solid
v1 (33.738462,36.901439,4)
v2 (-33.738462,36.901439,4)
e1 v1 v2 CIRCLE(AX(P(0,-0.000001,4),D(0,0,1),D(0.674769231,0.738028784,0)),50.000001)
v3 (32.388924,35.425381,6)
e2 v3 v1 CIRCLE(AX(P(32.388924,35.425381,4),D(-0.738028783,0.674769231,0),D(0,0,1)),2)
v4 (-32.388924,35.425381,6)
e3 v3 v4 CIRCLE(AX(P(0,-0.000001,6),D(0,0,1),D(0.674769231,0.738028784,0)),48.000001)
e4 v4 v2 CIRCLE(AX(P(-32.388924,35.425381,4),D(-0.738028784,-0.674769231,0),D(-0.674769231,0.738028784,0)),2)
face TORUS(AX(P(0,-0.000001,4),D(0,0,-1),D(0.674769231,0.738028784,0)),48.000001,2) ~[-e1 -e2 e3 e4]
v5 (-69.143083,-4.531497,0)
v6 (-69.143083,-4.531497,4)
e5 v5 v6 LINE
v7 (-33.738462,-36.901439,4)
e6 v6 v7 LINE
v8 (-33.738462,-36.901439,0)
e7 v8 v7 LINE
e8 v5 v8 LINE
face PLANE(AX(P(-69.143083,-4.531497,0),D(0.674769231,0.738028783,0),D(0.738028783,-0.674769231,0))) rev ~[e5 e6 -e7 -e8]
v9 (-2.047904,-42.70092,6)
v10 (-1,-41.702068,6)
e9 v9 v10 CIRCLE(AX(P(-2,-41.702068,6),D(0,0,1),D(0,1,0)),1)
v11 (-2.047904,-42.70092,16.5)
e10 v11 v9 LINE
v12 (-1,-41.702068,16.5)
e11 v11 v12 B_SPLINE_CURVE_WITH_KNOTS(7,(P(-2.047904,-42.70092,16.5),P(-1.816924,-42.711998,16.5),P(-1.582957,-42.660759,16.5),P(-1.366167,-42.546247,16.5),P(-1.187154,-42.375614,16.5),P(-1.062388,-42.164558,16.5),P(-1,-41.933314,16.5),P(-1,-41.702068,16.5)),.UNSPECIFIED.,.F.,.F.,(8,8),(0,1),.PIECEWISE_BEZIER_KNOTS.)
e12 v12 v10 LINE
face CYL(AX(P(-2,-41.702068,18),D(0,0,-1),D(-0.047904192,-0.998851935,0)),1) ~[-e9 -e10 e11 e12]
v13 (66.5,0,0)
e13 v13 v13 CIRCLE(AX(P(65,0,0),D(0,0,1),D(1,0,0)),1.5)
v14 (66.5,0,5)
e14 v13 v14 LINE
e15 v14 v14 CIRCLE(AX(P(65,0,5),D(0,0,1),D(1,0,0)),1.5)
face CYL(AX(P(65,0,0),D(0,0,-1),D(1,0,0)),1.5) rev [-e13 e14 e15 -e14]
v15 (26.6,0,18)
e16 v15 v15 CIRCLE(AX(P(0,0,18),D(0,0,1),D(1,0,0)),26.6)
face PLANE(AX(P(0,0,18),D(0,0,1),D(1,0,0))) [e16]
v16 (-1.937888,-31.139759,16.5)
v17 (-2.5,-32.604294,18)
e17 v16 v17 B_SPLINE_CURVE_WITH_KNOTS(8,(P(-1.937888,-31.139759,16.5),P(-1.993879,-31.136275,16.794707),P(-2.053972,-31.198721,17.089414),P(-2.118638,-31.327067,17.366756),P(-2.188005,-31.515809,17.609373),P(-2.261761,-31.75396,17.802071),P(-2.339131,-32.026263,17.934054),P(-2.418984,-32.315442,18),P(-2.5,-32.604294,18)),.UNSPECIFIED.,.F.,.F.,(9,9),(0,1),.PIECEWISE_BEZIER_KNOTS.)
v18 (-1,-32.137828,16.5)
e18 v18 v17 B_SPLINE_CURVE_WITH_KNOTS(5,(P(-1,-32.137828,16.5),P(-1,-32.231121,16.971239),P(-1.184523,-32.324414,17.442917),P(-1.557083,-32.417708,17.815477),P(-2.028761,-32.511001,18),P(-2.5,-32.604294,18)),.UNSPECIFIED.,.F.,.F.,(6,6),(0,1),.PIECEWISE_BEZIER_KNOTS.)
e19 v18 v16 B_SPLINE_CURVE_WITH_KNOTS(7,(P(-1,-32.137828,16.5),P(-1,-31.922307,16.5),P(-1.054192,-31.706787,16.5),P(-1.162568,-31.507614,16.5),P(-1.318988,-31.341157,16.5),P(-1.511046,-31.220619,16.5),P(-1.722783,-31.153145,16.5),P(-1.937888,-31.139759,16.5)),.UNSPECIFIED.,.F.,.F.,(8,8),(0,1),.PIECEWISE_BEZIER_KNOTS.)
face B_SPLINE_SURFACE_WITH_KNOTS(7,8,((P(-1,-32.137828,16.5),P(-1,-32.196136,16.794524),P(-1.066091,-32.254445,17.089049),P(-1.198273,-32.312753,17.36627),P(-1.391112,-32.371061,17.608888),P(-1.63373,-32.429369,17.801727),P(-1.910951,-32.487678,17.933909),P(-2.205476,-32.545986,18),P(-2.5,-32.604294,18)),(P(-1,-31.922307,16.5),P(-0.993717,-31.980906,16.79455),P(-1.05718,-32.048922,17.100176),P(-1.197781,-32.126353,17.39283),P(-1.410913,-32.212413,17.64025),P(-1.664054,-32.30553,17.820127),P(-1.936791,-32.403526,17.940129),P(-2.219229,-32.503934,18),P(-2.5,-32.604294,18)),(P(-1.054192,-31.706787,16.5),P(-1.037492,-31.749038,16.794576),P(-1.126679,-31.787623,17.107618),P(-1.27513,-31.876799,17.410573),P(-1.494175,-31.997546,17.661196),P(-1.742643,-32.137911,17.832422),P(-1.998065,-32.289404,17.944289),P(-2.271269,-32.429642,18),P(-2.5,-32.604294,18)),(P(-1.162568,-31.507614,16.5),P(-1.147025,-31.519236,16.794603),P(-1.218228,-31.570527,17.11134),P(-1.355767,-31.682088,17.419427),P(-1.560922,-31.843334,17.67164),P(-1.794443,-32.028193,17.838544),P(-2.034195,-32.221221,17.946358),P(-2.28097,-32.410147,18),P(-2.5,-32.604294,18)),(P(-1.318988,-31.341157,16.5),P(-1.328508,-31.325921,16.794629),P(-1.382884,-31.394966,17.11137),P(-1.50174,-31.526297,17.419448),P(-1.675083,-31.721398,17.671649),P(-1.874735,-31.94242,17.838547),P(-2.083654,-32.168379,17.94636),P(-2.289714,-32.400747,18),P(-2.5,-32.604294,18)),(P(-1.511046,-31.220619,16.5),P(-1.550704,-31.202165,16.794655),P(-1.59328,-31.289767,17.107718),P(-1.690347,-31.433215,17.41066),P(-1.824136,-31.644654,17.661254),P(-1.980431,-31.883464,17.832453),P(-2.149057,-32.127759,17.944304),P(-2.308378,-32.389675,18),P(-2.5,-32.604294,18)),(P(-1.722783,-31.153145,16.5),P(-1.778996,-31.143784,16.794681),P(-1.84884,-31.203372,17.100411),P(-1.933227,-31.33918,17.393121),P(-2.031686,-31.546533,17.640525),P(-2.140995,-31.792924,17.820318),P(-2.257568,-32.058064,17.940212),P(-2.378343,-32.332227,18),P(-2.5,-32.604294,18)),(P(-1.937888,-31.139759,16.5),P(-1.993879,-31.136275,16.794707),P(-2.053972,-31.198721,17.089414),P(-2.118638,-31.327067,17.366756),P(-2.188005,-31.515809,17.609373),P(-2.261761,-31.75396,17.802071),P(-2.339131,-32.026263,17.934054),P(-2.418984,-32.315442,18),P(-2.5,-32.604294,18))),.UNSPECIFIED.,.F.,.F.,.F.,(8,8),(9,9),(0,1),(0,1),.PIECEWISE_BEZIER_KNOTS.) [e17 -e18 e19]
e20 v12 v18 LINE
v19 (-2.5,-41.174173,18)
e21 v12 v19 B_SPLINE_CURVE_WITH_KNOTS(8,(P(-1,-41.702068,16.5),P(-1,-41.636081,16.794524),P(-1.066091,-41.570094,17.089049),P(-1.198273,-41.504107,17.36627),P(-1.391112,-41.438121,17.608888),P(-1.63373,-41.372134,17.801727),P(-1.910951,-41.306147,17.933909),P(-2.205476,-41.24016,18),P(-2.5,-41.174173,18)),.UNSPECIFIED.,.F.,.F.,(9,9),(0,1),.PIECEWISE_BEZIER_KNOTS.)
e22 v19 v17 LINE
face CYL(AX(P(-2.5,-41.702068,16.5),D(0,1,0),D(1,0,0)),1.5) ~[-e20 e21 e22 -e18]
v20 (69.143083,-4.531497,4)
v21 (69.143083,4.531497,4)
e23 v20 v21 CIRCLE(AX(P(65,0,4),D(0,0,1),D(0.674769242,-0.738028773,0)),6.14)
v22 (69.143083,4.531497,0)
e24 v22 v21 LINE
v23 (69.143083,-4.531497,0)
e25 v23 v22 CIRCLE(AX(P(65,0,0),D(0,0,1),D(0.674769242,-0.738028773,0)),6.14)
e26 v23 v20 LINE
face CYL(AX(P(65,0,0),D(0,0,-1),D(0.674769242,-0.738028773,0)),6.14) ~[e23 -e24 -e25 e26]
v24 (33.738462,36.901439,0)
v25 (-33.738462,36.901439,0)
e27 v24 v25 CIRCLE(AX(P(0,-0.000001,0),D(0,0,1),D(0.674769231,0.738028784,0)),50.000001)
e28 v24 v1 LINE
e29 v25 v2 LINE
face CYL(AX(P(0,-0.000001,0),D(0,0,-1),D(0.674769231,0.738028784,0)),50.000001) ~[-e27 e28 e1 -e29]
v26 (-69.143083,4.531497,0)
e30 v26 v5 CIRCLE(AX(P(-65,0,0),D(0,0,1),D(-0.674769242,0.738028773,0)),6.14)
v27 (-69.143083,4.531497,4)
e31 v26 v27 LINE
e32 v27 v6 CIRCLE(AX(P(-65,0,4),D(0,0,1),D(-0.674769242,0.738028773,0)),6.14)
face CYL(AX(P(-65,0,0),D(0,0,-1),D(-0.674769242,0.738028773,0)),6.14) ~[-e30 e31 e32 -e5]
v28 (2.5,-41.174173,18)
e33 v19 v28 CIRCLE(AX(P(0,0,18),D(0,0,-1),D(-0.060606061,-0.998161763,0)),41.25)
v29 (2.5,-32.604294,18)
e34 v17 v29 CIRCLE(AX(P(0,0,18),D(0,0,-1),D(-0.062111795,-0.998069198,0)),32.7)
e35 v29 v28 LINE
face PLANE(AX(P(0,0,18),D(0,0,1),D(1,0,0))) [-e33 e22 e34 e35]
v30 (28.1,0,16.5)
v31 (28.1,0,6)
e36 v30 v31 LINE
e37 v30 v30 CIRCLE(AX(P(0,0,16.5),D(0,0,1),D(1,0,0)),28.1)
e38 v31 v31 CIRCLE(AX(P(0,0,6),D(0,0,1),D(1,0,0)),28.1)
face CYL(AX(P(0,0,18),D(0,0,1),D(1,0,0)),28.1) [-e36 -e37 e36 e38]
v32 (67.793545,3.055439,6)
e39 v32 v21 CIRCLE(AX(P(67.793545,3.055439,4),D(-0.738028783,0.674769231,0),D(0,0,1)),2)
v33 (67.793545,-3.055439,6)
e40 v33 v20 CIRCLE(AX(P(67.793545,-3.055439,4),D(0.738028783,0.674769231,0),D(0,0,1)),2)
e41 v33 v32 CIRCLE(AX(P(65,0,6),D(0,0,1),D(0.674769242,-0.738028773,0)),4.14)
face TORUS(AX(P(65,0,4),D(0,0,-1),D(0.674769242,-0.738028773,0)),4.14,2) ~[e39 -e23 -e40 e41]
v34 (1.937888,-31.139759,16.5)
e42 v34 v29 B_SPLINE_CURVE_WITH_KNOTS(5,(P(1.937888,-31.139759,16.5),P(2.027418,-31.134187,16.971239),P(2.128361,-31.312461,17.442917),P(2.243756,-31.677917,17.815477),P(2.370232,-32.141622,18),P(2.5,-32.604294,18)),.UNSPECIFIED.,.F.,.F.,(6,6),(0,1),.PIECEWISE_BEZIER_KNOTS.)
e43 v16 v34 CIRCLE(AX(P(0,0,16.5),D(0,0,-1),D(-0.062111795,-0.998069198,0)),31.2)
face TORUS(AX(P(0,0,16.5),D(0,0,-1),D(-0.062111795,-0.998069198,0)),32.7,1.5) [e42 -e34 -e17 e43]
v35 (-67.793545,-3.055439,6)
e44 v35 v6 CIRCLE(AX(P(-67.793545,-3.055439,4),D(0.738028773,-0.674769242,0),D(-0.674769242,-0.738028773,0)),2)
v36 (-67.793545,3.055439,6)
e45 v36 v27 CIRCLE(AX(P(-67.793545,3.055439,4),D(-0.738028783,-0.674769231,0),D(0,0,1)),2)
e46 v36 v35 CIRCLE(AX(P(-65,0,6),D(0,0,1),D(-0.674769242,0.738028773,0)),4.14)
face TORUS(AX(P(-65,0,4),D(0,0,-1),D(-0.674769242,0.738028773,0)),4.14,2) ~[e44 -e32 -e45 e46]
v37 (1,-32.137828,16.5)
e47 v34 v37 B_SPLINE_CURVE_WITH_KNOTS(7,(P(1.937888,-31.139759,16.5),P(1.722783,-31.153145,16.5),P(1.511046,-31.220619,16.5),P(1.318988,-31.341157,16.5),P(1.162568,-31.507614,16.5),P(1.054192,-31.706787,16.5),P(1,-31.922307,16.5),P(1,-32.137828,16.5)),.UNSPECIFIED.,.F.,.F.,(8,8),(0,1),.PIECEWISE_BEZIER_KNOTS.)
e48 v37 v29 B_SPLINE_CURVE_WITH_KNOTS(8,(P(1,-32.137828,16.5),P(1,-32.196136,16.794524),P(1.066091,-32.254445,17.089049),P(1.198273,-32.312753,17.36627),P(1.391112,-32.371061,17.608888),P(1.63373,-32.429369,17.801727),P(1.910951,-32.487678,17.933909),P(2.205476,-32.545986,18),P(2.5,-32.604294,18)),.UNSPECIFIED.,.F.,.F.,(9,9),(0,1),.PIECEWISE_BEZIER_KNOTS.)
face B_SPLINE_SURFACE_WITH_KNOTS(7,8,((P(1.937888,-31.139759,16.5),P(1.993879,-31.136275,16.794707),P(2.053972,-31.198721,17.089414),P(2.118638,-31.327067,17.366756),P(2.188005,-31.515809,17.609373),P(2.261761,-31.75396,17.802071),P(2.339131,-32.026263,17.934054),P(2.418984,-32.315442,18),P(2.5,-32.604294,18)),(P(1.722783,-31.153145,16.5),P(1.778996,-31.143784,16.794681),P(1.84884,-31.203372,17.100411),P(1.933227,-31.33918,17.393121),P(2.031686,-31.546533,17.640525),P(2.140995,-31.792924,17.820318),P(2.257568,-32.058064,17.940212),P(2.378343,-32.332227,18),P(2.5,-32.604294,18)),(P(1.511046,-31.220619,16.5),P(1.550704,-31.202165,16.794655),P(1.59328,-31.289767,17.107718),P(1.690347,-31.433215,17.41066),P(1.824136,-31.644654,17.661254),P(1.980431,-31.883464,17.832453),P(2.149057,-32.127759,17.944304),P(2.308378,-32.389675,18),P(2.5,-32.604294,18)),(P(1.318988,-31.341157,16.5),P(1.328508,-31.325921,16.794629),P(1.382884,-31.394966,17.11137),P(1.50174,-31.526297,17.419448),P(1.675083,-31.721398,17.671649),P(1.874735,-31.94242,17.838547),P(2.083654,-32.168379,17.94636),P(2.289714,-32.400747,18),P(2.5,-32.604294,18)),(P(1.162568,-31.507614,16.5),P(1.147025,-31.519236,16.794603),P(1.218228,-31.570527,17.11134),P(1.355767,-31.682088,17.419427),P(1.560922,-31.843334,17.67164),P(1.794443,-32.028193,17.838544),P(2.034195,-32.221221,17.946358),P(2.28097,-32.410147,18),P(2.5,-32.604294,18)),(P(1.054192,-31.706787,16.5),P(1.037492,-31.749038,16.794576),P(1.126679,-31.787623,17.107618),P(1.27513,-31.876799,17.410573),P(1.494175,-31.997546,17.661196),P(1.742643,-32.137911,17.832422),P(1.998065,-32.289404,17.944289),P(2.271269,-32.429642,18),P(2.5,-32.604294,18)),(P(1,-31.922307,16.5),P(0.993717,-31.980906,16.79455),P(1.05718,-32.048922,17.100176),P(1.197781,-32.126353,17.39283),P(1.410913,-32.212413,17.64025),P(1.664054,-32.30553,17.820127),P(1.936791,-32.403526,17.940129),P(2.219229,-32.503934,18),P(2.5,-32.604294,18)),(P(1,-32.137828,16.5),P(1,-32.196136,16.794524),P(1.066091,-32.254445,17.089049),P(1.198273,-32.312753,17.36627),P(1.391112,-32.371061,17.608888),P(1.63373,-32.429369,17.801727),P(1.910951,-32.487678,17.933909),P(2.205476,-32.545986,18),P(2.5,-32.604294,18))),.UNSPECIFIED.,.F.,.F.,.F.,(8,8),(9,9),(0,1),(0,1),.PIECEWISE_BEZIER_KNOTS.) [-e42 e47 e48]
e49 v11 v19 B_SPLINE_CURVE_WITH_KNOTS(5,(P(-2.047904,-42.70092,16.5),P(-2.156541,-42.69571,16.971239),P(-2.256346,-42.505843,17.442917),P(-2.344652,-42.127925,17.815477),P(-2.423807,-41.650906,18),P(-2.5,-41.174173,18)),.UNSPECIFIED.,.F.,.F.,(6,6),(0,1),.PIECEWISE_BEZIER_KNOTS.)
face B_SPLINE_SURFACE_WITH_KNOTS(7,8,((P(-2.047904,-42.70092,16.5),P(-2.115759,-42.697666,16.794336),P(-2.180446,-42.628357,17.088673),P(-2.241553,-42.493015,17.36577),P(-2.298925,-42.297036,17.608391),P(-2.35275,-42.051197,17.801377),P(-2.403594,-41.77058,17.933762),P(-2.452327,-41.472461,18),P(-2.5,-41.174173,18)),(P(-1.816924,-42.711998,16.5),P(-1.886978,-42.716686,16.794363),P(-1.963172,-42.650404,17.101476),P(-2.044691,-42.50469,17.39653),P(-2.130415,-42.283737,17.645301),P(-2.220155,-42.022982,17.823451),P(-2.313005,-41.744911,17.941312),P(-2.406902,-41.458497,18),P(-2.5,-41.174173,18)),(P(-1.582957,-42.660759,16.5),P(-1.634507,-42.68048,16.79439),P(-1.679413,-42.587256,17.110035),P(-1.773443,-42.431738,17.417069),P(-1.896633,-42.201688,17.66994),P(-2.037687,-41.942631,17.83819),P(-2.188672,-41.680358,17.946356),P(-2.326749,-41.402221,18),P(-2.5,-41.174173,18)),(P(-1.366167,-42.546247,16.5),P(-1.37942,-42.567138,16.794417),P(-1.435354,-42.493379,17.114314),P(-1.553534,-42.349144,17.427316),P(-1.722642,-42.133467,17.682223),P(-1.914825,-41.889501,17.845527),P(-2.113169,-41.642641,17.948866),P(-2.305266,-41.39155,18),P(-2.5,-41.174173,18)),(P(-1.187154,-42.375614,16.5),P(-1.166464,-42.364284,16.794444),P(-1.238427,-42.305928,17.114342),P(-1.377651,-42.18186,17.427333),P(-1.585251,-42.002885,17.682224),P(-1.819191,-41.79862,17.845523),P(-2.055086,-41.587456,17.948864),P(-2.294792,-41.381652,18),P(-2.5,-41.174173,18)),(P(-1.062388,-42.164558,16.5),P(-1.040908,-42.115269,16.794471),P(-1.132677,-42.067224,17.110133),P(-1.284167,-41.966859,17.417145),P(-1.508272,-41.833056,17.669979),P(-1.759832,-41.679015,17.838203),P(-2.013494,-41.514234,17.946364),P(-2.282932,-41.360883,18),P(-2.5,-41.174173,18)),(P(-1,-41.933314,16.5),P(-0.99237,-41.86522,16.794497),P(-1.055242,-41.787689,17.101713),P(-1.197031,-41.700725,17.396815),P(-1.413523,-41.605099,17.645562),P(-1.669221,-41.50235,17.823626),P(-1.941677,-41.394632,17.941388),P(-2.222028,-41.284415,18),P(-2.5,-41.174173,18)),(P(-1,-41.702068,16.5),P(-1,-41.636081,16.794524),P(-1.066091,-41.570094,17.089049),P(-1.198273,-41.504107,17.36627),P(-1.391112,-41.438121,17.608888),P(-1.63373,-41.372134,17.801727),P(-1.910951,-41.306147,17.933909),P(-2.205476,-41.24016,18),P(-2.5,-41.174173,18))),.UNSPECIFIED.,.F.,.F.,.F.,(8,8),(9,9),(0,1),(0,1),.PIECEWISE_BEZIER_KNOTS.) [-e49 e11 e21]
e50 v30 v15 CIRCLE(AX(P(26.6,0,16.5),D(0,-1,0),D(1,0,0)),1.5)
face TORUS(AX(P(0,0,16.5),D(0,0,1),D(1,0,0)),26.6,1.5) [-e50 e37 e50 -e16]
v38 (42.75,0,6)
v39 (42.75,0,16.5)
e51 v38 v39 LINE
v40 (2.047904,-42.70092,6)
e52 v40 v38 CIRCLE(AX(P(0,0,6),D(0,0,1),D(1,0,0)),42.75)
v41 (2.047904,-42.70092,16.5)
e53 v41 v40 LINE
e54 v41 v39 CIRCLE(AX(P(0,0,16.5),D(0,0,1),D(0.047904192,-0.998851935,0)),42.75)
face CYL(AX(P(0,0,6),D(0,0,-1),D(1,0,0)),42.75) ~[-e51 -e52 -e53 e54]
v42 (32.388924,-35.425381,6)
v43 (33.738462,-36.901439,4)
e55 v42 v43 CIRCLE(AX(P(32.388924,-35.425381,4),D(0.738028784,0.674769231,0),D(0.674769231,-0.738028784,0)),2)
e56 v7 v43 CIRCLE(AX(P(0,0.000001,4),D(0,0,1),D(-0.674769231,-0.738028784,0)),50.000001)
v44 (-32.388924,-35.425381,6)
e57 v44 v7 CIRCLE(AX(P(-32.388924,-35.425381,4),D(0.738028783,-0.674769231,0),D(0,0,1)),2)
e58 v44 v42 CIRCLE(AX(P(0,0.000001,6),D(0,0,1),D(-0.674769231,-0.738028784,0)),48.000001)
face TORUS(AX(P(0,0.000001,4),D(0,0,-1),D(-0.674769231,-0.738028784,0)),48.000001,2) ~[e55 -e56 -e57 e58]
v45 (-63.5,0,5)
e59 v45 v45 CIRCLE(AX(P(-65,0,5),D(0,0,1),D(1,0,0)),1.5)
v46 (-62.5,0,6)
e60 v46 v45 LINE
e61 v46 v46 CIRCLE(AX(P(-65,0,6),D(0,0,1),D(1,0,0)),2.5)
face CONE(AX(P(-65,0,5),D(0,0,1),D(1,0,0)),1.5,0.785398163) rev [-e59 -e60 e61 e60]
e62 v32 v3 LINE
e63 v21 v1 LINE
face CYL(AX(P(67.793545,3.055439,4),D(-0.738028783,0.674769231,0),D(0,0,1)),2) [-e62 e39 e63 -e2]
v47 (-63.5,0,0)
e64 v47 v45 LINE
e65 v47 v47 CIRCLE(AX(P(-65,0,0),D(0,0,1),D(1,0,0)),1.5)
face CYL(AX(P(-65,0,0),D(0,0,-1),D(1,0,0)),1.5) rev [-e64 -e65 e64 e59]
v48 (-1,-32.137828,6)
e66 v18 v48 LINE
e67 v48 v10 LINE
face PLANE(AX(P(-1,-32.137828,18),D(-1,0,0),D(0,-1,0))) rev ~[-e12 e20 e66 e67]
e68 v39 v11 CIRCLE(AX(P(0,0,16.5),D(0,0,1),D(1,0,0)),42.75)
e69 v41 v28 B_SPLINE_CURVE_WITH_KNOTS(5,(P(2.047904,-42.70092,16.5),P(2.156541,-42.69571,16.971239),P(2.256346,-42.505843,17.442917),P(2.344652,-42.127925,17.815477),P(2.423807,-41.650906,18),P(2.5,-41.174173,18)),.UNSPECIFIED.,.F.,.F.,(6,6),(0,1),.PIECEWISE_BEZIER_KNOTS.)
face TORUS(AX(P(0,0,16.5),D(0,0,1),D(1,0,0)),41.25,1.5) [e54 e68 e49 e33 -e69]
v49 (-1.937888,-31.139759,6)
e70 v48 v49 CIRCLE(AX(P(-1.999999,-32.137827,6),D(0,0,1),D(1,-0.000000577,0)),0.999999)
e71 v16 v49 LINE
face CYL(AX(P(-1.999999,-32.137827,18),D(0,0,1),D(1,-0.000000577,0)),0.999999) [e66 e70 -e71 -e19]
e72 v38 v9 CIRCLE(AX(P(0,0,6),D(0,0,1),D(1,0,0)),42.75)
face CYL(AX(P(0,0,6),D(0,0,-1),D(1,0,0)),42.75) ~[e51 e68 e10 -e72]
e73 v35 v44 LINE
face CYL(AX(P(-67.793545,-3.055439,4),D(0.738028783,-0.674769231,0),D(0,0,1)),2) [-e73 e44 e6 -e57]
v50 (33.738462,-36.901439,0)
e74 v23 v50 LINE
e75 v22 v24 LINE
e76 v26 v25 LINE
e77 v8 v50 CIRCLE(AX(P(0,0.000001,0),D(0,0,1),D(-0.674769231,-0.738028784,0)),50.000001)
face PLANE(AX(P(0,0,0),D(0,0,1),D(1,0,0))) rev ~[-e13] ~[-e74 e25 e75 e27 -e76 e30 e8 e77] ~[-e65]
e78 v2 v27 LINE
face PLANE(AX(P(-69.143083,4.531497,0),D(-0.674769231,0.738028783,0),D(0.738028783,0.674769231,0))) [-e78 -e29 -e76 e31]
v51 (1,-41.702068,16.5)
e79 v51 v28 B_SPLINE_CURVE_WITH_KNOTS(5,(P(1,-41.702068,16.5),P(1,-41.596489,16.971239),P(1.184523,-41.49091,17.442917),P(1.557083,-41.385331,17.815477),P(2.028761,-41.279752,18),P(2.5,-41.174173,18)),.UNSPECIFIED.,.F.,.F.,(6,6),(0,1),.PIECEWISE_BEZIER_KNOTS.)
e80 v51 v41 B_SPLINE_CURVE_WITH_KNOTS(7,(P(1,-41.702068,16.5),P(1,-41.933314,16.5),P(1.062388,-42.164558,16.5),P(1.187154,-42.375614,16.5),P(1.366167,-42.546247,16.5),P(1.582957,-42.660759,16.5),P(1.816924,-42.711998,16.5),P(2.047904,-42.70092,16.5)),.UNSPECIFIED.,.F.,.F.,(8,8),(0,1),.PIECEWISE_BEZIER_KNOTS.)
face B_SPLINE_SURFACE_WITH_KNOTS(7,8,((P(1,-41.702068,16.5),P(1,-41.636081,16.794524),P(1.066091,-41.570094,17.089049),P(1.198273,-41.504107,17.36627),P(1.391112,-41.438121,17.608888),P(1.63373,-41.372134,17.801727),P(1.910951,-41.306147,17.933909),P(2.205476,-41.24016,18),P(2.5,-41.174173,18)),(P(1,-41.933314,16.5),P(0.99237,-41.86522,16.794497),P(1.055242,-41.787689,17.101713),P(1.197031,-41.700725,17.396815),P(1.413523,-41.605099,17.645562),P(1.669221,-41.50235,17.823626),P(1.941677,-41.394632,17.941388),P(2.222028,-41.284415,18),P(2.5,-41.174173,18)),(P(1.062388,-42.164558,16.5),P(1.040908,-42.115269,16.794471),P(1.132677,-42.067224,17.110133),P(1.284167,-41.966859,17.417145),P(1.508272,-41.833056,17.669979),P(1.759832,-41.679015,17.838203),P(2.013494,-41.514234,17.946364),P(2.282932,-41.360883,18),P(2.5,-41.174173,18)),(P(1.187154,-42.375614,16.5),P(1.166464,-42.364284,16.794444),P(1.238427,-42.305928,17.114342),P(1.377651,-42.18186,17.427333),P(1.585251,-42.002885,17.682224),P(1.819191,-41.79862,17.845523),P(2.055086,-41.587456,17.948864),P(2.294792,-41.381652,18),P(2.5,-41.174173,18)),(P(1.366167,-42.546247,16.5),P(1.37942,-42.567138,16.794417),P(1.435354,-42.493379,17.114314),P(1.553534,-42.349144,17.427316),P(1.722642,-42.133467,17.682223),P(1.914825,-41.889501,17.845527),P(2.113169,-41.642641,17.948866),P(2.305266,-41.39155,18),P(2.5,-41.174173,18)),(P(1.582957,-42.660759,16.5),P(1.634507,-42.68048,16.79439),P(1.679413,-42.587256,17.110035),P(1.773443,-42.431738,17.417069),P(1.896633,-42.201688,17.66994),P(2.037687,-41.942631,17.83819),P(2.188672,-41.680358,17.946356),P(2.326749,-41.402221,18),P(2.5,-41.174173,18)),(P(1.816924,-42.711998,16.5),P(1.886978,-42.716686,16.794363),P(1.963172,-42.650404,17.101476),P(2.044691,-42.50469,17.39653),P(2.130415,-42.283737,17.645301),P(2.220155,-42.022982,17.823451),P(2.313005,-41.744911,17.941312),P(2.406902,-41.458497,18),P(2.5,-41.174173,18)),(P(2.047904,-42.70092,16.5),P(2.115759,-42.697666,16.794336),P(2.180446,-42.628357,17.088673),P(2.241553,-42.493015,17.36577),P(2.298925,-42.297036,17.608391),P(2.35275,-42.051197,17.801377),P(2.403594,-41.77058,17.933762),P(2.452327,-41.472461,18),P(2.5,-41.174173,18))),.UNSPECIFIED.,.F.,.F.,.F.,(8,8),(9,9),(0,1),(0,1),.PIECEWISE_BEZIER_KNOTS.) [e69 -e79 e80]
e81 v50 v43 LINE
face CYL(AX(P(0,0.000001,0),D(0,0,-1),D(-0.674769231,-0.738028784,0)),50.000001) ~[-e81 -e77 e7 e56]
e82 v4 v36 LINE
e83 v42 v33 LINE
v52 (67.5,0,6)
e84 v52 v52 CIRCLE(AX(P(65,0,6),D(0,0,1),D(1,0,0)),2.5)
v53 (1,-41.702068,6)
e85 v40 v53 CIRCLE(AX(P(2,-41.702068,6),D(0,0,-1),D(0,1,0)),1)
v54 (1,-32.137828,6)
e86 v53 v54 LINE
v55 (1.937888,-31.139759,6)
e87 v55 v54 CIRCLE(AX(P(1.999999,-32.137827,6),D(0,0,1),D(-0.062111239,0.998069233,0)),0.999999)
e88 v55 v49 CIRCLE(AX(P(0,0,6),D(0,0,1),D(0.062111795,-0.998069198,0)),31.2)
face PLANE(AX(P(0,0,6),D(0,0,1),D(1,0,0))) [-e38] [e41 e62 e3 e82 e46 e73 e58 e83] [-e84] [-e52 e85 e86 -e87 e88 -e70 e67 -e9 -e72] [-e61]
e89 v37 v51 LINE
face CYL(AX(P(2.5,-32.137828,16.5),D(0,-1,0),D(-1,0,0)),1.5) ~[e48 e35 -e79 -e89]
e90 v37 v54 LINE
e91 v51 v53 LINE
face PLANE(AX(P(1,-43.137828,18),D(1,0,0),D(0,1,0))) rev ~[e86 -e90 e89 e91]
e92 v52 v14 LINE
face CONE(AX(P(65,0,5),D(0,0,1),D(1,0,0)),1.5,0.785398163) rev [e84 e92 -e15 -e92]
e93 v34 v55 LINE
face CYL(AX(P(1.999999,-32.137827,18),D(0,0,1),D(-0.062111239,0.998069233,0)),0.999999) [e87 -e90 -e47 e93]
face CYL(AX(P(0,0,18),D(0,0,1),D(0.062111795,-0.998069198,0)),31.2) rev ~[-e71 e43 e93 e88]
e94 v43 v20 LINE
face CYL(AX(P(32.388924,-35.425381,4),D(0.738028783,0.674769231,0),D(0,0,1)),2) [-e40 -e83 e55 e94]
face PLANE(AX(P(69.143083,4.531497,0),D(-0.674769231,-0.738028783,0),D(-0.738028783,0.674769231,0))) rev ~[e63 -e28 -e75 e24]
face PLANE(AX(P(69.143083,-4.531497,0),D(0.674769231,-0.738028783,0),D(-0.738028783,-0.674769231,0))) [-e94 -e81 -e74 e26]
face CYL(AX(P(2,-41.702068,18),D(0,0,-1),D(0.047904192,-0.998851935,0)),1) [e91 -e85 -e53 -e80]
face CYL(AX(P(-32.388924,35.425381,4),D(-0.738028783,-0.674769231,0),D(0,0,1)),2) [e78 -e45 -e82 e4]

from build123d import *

# Parameters (mm, degrees)
SKETCH_R     = 1.5
PAD_DEPTH    = 6
SKETCH001_R  = 42.75
PAD001_DEPTH = 12
SKETCH002_R  = 28.1
POCKET_DEPTH = 12
CHAMFER_SIZE = 1
FILLET_R     = 2
FILLET001_R  = 1
FILLET002_R  = 1.5
FILLET003_R  = 1.5


with BuildPart() as part:
    # Sketch → Pad (new body)
    with BuildSketch(Plane.XY):
        with BuildLine():
            ThreePointArc((-33.738462, -36.901439), (0, -50), (33.738462, -36.901439))
            Line((69.143083, -4.531497), (33.738462, -36.901439))
            ThreePointArc((69.143083, -4.531497), (71.14, 0), (69.143083, 4.531497))
            Line((69.143083, 4.531497), (33.738462, 36.901439))
            ThreePointArc((33.738462, 36.901439), (0, 50), (-33.738462, 36.901439))
            Line((-69.143083, 4.531497), (-33.738462, 36.901439))
            ThreePointArc((-69.143083, 4.531497), (-71.14, 0), (-69.143083, -4.531497))
            Line((-69.143083, -4.531497), (-33.738462, -36.901439))
        make_face()
        with Locations((-65, 0)):
            Circle(SKETCH_R, mode=Mode.SUBTRACT)
        with Locations((65, 0)):
            Circle(SKETCH_R, mode=Mode.SUBTRACT)
    extrude(amount=PAD_DEPTH)

    # Sketch001 (on Face12 of Pad) → Pad001 (join)
    with BuildSketch(Plane.XY.offset(6)):
        Circle(SKETCH001_R)
    extrude(amount=PAD001_DEPTH)

    # Sketch002 (on Face14 of Pad001) → Pocket (cut)
    with BuildSketch(Plane.XY.offset(18)):
        with BuildLine():
            ThreePointArc((1.937888, -31.139759), (0, 31.2), (-1.937888, -31.139759))
            ThreePointArc((-1, -32.137828), (-1.271264, -31.453033), (-1.937888, -31.139759))
            Line((-1, -32.137828), (-1, -43.137828))
            Line((-1, -43.137828), (1, -43.137828))
            Line((1, -43.137828), (1, -32.137828))
            ThreePointArc((1.937888, -31.139759), (1.271264, -31.453033), (1, -32.137828))
        make_face()
        Circle(SKETCH002_R, mode=Mode.SUBTRACT)
    extrude(amount=-POCKET_DEPTH, mode=Mode.SUBTRACT)

    # Chamfer
    chamfer_edges = [part.edges().sort_by_distance(p)[0] for p in [
        (-66.5, 0, 6),
        (63.5, 0, 6),
    ]]
    chamfer(chamfer_edges, length=CHAMFER_SIZE)

    # Fillet
    fillet_edges = [part.edges().sort_by_distance(p)[0] for p in [
        (51.440772, 20.716468, 6),
        (71.14, 0, 6),
        (51.440772, -20.716468, 6),
        (0, 50, 6),
        (-51.440772, 20.716468, 6),
        (-71.14, 0, 6),
        (-51.440772, -20.716468, 6),
        (0, -50, 6),
    ]]
    fillet(fillet_edges, radius=FILLET_R)

    # Fillet001
    fillet001_edges = [part.edges().sort_by_distance(p)[0] for p in [
        (1, -42.738302, 12),
        (-1, -42.738302, 12),
    ]]
    fillet(fillet001_edges, radius=FILLET001_R)

    # Fillet002
    fillet002_edges = [part.edges().sort_by_distance(p)[0] for p in [
        (30.944389, -29.495886, 18),
        (-29.495886, 30.944389, 18),
    ]]
    fillet(fillet002_edges, radius=FILLET002_R)

    # Fillet003
    fillet003_edges = [part.edges().sort_by_distance(p)[0] for p in [
        (-28.1, 0, 18),
    ]]
    fillet(fillet003_edges, radius=FILLET003_R)


solid = part.part
